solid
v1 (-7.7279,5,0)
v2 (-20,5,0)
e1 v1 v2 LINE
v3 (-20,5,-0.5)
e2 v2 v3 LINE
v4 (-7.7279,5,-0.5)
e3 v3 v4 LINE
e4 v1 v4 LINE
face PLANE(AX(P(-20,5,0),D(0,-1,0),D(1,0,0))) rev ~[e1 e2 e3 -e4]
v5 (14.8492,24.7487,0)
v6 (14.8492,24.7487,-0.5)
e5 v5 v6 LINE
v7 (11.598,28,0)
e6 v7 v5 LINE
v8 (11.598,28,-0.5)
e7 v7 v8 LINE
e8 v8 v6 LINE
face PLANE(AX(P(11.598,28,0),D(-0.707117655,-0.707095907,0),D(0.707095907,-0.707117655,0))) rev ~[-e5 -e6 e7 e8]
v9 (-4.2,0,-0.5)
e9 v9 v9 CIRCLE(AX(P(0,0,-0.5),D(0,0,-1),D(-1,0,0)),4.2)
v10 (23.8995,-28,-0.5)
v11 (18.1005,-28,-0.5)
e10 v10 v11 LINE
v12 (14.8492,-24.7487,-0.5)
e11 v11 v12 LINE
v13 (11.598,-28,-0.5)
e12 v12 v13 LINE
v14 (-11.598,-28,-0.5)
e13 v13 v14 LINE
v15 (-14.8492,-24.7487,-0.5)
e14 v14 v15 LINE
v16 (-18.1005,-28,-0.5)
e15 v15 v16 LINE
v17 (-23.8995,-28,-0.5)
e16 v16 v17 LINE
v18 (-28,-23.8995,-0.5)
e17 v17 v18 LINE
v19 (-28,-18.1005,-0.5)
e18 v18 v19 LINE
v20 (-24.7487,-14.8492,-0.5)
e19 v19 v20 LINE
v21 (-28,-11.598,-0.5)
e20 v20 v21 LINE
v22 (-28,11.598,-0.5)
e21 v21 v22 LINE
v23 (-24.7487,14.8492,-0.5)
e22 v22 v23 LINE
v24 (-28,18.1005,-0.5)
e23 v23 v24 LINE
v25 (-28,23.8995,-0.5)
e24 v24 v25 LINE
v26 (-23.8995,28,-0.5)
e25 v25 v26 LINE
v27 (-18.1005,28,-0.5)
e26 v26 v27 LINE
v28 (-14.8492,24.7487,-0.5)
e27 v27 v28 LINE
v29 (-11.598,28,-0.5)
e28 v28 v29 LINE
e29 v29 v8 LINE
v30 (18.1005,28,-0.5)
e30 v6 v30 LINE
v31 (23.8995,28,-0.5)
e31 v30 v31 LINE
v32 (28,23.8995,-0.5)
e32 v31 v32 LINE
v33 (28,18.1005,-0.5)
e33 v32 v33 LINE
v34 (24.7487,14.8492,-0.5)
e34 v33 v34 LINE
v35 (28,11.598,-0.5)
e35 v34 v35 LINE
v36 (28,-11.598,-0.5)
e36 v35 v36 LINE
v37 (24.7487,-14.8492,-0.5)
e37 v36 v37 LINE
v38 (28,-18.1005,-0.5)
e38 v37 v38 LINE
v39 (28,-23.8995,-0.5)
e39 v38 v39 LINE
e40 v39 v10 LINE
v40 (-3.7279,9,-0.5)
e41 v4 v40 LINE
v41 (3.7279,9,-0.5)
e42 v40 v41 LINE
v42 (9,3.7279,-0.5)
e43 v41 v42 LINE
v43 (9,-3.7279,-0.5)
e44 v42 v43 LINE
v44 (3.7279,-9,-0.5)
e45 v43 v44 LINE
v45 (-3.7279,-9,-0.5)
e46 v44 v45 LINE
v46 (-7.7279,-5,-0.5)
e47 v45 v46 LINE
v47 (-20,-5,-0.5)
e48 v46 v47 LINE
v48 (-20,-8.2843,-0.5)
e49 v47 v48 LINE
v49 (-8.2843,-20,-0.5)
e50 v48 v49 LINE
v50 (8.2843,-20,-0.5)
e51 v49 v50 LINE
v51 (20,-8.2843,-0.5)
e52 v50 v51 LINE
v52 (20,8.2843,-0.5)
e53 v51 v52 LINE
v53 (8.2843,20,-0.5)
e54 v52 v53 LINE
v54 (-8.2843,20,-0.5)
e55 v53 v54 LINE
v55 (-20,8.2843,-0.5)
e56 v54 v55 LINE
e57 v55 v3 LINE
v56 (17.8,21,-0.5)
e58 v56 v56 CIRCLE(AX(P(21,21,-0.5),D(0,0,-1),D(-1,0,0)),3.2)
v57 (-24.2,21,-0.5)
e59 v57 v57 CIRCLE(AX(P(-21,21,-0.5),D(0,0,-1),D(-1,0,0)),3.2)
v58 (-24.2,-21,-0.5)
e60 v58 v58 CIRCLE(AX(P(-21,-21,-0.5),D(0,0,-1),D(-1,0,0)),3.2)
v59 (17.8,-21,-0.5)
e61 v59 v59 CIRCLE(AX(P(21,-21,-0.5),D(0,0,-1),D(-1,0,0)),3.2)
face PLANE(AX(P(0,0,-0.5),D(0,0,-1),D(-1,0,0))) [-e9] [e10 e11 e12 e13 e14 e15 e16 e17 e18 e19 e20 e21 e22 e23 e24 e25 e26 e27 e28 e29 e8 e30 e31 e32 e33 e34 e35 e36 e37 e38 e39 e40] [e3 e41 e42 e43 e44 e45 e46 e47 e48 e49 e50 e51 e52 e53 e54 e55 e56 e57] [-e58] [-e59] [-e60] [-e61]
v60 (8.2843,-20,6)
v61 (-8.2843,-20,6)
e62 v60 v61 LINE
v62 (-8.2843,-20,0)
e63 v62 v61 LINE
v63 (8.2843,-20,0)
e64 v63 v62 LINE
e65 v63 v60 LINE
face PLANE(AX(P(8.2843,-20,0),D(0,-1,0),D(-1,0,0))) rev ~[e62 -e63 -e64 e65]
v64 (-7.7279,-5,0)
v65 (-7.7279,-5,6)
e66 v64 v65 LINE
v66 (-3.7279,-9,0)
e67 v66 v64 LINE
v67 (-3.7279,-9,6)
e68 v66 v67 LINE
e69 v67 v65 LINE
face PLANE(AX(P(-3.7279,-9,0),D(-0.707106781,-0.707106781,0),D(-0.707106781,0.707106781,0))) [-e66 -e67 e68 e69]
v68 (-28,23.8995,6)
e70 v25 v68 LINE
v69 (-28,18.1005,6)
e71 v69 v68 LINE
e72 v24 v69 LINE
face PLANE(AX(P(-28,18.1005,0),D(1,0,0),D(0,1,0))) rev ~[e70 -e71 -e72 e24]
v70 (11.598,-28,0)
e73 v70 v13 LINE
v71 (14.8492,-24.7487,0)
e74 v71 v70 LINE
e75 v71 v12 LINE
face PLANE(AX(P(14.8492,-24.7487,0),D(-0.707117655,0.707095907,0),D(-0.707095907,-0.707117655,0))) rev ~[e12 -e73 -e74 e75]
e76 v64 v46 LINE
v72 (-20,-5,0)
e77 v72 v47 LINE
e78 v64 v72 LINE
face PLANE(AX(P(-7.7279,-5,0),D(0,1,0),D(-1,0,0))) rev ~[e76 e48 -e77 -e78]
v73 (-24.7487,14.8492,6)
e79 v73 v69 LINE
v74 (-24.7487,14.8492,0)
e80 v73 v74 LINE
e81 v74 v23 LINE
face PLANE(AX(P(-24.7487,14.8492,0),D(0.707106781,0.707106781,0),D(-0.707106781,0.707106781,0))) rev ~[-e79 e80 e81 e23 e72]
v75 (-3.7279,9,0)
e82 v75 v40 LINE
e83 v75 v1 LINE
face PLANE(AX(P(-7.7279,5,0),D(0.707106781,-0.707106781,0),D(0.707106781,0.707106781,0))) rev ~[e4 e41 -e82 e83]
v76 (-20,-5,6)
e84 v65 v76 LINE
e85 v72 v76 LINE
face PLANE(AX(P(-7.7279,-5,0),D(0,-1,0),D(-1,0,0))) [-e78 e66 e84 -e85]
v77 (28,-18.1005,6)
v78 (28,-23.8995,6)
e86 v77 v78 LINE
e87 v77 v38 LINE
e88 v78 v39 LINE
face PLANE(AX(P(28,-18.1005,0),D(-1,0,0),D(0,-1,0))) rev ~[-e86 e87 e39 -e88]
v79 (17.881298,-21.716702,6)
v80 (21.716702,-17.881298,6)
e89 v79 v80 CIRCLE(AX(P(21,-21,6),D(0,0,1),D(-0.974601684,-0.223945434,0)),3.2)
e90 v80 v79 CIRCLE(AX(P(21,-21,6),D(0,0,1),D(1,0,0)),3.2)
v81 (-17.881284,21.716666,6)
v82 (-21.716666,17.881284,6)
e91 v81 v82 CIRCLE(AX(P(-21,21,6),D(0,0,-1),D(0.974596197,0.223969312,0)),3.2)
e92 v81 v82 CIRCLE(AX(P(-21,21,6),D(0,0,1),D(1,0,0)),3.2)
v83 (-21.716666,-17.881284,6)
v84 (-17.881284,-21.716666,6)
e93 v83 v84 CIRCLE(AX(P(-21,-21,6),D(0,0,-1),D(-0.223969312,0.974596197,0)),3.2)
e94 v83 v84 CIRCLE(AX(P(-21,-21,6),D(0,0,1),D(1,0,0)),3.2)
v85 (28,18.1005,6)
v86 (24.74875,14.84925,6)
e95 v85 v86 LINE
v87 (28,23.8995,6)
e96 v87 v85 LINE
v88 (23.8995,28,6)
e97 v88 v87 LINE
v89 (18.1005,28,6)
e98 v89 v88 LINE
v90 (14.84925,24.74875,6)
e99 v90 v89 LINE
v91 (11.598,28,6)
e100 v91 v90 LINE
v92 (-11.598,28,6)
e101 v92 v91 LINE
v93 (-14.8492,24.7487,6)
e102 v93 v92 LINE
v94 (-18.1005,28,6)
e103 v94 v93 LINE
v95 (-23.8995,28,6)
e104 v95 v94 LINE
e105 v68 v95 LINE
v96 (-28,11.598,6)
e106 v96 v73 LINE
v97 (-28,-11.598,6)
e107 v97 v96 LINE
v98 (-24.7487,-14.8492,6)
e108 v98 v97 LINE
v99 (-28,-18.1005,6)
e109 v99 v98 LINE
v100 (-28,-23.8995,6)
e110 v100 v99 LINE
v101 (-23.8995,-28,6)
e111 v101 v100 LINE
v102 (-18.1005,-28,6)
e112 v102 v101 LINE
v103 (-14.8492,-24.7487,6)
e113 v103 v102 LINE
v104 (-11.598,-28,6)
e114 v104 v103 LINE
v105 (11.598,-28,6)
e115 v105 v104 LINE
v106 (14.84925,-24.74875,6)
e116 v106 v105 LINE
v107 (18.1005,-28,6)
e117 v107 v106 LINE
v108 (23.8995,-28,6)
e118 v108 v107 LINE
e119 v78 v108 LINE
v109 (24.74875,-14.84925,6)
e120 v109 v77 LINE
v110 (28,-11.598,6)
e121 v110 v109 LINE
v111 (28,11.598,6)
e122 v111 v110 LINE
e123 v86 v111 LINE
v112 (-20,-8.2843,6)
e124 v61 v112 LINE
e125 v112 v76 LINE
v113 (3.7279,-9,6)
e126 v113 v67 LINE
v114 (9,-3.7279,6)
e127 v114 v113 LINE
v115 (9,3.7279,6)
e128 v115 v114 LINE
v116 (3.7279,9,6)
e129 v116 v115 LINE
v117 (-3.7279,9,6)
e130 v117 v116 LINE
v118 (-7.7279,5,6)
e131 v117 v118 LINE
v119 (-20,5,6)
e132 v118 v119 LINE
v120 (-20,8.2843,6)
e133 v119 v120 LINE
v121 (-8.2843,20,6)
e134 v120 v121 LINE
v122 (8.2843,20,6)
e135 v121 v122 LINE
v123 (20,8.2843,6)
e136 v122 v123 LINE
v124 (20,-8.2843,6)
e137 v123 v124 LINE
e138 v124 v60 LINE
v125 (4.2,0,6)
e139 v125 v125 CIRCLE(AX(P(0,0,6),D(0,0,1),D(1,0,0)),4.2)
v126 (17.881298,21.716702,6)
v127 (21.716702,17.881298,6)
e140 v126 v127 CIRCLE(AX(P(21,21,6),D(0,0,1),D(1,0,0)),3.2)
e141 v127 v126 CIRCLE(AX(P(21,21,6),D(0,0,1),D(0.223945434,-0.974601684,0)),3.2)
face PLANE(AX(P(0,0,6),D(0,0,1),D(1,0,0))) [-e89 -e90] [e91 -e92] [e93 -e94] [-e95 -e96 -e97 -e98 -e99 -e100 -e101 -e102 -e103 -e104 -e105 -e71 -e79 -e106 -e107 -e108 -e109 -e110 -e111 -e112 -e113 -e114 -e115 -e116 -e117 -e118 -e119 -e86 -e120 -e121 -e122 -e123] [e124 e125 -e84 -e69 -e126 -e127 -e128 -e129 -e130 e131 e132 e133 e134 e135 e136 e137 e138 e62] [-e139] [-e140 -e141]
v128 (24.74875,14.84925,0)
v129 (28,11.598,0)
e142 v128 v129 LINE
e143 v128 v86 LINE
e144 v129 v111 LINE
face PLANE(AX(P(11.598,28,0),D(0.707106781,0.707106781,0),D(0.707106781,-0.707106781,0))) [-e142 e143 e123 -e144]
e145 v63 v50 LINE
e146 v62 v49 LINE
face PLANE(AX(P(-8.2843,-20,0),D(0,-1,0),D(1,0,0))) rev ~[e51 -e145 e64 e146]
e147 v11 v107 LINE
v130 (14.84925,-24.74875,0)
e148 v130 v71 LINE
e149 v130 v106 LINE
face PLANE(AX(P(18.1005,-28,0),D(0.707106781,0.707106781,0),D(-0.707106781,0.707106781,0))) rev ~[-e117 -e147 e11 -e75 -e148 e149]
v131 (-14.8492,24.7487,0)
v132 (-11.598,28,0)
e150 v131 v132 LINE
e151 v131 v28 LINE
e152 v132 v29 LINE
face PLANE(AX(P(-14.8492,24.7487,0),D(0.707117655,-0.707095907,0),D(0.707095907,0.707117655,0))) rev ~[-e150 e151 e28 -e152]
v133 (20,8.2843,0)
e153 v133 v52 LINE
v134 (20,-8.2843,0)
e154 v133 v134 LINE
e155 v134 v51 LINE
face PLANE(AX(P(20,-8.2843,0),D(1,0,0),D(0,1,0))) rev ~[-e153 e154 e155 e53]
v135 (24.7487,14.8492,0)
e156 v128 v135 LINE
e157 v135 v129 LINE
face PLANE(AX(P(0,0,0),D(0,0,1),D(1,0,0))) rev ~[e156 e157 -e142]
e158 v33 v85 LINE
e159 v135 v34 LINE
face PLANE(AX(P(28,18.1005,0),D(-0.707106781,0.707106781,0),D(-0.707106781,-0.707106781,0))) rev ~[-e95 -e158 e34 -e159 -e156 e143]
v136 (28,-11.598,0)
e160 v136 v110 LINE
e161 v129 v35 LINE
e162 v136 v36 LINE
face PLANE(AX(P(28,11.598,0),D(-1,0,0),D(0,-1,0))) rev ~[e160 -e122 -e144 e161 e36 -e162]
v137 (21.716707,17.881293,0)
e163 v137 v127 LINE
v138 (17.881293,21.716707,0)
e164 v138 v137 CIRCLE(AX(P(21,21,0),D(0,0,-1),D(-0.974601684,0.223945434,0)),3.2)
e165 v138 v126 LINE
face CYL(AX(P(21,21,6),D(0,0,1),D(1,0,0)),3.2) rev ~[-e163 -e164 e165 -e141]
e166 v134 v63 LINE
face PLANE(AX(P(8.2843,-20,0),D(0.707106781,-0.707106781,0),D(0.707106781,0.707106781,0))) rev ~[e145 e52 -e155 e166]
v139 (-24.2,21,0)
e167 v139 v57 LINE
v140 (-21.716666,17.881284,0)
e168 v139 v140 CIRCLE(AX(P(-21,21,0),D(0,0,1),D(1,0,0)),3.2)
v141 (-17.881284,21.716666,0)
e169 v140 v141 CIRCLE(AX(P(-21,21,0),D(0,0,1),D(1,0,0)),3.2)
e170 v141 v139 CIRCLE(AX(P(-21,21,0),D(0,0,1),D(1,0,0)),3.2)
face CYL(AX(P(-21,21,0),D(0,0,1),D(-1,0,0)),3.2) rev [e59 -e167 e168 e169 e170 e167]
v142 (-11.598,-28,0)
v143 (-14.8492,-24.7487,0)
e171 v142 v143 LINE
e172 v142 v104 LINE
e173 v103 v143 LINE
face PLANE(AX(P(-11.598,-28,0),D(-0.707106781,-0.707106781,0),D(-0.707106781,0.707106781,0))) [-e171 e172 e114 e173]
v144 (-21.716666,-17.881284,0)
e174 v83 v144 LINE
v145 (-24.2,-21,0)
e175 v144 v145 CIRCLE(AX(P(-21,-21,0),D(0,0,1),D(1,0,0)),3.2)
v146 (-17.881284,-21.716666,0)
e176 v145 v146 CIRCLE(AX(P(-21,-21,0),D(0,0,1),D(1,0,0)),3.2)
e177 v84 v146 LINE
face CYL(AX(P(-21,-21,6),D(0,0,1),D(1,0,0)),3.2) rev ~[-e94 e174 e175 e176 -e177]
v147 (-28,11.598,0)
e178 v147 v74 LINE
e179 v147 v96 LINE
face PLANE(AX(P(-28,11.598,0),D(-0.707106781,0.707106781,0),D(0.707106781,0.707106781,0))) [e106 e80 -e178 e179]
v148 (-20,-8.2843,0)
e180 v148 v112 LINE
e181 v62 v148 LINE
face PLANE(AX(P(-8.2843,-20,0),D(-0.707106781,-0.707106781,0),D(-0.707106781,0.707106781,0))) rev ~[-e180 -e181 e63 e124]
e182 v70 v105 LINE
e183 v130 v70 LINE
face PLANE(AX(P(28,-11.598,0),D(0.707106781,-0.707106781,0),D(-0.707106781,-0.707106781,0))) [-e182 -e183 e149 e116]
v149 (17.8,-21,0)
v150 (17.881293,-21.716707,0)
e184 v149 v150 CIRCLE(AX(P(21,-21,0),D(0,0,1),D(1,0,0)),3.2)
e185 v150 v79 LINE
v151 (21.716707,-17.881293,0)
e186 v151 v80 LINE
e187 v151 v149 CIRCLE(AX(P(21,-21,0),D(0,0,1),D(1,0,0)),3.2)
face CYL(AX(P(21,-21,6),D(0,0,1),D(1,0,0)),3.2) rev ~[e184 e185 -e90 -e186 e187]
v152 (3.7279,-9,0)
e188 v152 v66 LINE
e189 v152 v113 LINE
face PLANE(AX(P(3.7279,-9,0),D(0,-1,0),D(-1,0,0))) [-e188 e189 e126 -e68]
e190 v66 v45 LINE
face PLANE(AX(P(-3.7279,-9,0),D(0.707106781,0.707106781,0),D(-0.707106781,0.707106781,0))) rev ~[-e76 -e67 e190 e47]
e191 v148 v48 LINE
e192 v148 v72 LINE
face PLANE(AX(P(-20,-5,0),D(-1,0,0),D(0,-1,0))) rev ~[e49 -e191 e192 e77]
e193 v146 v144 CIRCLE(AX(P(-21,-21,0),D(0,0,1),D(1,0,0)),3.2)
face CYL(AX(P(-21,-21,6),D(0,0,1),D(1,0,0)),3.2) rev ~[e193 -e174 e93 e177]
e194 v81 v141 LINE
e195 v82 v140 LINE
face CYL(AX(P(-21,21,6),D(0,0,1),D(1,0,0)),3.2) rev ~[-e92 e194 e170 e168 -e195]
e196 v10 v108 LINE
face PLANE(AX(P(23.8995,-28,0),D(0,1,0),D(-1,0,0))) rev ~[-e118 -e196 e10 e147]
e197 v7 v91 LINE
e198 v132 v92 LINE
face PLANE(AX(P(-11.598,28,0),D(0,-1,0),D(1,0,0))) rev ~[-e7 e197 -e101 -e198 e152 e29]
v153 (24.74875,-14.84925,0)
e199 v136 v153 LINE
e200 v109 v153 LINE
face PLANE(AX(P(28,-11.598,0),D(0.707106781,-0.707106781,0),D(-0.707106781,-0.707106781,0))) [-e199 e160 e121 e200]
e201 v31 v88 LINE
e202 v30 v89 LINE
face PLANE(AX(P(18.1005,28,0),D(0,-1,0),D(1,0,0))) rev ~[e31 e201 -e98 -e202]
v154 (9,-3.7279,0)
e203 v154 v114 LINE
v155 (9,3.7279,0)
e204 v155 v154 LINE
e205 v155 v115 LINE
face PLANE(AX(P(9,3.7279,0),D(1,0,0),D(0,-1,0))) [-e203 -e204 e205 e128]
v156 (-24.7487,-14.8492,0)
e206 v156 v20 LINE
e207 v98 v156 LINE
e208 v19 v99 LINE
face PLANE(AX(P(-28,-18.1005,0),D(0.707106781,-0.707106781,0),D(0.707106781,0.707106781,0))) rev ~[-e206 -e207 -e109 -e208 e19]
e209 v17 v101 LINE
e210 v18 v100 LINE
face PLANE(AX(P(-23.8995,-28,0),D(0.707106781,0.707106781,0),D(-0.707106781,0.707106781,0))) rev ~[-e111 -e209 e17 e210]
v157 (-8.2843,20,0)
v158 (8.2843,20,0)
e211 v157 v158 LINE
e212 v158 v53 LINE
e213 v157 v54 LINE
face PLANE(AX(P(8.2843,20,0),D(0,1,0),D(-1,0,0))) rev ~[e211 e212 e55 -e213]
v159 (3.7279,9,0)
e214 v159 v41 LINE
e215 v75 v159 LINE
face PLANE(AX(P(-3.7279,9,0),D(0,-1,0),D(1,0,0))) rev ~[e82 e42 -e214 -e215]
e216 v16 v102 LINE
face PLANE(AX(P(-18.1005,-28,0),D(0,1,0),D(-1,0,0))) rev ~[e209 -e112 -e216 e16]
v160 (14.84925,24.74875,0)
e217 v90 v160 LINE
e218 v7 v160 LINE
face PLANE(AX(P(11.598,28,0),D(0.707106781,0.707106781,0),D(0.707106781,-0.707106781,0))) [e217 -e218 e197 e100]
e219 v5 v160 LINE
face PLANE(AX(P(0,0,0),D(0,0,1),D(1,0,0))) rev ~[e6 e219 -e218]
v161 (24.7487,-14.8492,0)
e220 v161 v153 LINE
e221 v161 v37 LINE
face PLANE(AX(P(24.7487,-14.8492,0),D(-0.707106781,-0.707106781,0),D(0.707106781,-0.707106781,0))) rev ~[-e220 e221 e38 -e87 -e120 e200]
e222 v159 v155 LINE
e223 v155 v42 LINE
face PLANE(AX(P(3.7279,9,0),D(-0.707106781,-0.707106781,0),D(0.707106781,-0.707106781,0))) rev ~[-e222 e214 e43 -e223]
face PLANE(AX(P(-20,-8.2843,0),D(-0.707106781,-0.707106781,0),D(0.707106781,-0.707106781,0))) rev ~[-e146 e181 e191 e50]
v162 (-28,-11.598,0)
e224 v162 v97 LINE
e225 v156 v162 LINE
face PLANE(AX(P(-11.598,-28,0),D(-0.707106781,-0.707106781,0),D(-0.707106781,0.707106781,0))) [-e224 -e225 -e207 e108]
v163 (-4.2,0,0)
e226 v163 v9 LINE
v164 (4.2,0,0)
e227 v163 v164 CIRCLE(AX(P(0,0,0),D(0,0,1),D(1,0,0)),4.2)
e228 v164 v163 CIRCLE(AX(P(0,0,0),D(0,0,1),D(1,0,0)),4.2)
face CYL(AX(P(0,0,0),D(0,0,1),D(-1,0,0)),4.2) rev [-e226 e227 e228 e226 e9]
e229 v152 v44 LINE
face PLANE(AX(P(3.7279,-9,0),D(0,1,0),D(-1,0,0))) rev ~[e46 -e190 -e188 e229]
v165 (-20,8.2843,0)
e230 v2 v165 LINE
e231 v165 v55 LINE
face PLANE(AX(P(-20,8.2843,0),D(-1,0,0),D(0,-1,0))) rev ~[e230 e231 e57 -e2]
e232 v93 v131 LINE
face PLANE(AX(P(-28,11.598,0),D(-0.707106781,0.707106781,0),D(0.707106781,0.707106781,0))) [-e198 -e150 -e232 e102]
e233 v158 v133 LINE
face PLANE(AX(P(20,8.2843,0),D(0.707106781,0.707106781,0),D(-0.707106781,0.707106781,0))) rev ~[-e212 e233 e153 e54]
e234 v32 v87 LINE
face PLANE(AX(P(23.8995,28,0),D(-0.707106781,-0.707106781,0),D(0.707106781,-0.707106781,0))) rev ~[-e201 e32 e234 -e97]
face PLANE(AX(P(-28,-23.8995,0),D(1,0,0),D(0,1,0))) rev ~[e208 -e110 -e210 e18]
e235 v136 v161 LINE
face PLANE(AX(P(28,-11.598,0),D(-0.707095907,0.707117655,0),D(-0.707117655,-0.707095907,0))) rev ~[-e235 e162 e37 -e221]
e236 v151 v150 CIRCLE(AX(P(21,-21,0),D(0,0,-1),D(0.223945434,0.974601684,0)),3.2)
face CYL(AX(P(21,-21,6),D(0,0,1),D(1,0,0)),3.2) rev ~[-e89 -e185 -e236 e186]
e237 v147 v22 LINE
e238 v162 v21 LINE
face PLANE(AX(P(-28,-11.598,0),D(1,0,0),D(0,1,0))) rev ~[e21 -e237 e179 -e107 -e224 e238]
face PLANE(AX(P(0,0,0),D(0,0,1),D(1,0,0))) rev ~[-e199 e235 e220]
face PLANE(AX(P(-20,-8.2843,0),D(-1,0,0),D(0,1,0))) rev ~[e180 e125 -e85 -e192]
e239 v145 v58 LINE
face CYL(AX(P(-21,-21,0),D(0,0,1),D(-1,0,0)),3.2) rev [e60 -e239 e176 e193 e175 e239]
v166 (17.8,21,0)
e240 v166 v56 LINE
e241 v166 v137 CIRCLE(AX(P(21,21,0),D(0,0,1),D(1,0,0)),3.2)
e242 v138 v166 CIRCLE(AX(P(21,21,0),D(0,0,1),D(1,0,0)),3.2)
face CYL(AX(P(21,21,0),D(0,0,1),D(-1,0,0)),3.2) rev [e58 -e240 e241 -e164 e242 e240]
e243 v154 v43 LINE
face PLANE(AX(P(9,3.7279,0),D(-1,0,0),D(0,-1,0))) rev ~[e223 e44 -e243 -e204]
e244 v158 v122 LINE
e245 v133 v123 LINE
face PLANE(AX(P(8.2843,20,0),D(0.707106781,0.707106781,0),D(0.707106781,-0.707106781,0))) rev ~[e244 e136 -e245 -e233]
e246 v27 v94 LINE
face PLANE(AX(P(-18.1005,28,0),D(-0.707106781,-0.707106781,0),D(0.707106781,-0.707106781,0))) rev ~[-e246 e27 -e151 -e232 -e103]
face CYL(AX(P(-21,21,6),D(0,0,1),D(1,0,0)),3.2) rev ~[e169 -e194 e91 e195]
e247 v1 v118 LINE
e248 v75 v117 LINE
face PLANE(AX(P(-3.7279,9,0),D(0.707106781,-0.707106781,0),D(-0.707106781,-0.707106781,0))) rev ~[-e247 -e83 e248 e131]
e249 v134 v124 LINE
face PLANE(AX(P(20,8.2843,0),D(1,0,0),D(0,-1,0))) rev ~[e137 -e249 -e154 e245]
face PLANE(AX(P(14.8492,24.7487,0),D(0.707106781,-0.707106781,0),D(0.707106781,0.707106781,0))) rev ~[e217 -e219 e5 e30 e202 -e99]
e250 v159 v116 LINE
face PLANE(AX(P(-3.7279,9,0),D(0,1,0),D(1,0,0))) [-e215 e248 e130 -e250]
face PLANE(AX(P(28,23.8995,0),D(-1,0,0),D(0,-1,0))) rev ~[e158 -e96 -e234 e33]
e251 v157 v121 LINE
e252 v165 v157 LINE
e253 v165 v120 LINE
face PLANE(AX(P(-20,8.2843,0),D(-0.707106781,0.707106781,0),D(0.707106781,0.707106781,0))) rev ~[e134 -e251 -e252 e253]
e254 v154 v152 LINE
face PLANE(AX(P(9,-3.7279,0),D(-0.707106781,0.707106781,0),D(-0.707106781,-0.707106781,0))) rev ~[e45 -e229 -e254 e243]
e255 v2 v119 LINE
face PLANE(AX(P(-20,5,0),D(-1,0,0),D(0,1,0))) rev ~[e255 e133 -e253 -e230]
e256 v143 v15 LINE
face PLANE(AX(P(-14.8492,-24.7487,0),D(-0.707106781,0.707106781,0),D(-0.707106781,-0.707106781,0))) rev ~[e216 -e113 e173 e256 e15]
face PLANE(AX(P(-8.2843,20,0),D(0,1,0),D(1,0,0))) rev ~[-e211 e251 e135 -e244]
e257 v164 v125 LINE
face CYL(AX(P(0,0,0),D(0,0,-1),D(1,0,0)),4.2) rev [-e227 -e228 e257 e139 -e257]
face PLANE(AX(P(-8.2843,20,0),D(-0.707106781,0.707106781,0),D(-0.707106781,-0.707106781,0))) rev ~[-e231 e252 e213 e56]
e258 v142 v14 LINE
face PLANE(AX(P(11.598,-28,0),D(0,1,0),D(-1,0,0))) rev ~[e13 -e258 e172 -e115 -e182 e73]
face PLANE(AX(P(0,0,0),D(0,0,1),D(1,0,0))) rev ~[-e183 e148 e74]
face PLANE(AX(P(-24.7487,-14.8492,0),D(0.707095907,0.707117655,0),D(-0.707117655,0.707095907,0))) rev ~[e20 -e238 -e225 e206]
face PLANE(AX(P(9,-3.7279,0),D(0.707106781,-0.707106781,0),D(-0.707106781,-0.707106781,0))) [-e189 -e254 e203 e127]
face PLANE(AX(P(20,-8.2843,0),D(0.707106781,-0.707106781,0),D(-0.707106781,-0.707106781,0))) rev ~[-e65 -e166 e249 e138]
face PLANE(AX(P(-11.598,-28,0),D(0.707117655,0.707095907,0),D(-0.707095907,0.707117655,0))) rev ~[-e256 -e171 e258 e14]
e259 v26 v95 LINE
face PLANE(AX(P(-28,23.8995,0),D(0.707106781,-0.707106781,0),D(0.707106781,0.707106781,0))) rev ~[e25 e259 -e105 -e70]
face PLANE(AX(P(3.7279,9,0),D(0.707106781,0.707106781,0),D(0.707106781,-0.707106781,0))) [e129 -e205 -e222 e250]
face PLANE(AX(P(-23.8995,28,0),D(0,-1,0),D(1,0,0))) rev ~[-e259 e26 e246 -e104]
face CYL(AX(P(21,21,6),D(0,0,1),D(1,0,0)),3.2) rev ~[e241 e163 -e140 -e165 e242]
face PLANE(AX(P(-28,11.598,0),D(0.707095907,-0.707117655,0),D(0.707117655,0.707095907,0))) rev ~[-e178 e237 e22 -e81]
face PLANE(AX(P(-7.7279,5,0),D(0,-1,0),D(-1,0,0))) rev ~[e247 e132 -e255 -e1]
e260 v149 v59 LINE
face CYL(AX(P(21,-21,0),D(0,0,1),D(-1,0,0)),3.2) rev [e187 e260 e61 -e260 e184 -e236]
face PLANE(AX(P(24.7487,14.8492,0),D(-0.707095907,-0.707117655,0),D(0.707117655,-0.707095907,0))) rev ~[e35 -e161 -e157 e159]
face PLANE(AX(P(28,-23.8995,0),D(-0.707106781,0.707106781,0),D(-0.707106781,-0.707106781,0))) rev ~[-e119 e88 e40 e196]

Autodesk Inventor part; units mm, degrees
ref_plane "YZ Plane" through (0, 0, 0) normal (1, 0, 0) x (0, 1, 0)
ref_plane "XZ Plane" through (0, 0, 0) normal (0, 1, 0) x (-1, 0, 0)
ref_plane "XY Plane" through (0, 0, 0) normal (0, 0, 1) x (1, 0, 0)
sketch "Sketch1" plane through (0, 0, 0) normal (0, 0, 1) x (1, 0, 0)
  circle A0 centre (0, 0) radius 8 construction
  circle A1 centre (0, 0) radius 16 construction
  line L0 (20, -8.2843) -> (8.2843, -20)
  line L1 (8.2843, -20) -> (-8.2843, -20)
  line L2 (-8.2843, -20) -> (-20, -8.2843)
  line L3 (-20, 8.2843) -> (-8.2843, 20)
  line L4 (-8.2843, 20) -> (8.2843, 20)
  line L5 (8.2843, 20) -> (20, 8.2843)
  line L6 (20, 8.2843) -> (20, -8.2843)
  line L7 (-7.7279, 5) -> (-20, 5)
  line L8 (-7.7279, -5) -> (-20, -5)
  circle A2 centre (0, 0) radius 4.2
  line L9 (-20, -8.2843) -> (-20, -5)
  line L10 (-20, 5) -> (-20, 8.2843)
  line L11 (28, -11.598) -> (11.598, -28)
  line L12 (11.598, -28) -> (-11.598, -28)
  line L13 (-11.598, -28) -> (-28, -11.598)
  line L14 (-28, -11.598) -> (-28, 11.598)
  line L15 (-28, 11.598) -> (-11.598, 28)
  line L16 (-11.598, 28) -> (11.598, 28)
  line L17 (11.598, 28) -> (28, 11.598)
  line L18 (28, 11.598) -> (28, -11.598)
  line L19 (9, -3.7279) -> (3.7279, -9)
  line L20 (3.7279, -9) -> (-3.7279, -9)
  line L21 (-3.7279, 9) -> (3.7279, 9)
  line L22 (3.7279, 9) -> (9, 3.7279)
  line L23 (9, 3.7279) -> (9, -3.7279)
  line L24 (-20, 5) -> (-20, -5) construction
  line L25 (-3.7279, 9) -> (-7.7279, 5)
  line L26 (-3.7279, -9) -> (-7.7279, -5)
  point P0 (-20, 0)
  dimension "d1" = 16
  dimension "d2" = 32
  dimension "d5" = 8.4
  dimension "d6" = 40
  dimension "d7" = 8
  dimension "d8" = 10
  dimension "d10" = 18
extrude "Extrusion1" add sketch "Sketch1" along normal blind 6
sketch "Sketch2" plane through (0, 0, 6) normal (0, 0, 1) x (1, 0, 0)
  circle A0 centre (0, 0) radius 4.2 projected
  line L0 (11.598, 28) -> (-11.598, 28) projected
  line L1 (-11.598, 28) -> (-28, 11.598) projected
  line L2 (-28, 11.598) -> (-28, -11.598) projected
  line L3 (-28, -11.598) -> (-11.598, -28) projected
  line L4 (-11.598, -28) -> (11.598, -28) projected
  line L5 (-24.7487, 14.8492) -> (-28, 18.1005)
  line L6 (-28, 18.1005) -> (-28, 23.8995)
  line L7 (-28, 23.8995) -> (-23.8995, 28)
  line L8 (-23.8995, 28) -> (-18.1005, 28)
  line L9 (-18.1005, 28) -> (-14.8492, 24.7487)
  line L10 (-28, 21) -> (-21, 21) construction
  line L11 (-21, 28) -> (-21, 21) construction
  circle A1 centre (-21, 21) radius 3.2
  line L12 (-24.7487, 14.8492) -> (-14.8492, 24.7487)
  line L13 (-14.8492, -24.7487) -> (-18.1005, -28)
  line L14 (-18.1005, -28) -> (-23.8995, -28)
  line L15 (-23.8995, -28) -> (-28, -23.8995)
  line L16 (-28, -23.8995) -> (-28, -18.1005)
  line L17 (-28, -18.1005) -> (-24.7487, -14.8492)
  circle A2 centre (-21, -21) radius 3.2
  line L18 (-14.8492, -24.7487) -> (-24.7487, -14.8492)
  line L19 (24.7487, -14.8492) -> (28, -18.1005)
  line L20 (28, -18.1005) -> (28, -23.8995)
  line L21 (28, -23.8995) -> (23.8995, -28)
  line L22 (23.8995, -28) -> (18.1005, -28)
  line L23 (18.1005, -28) -> (14.8492, -24.7487)
  circle A3 centre (21, -21) radius 3.2
  line L24 (24.7487, -14.8492) -> (14.8492, -24.7487)
  line L25 (14.8492, 24.7487) -> (18.1005, 28)
  line L26 (18.1005, 28) -> (23.8995, 28)
  line L27 (23.8995, 28) -> (28, 23.8995)
  line L28 (28, 23.8995) -> (28, 18.1005)
  line L29 (28, 18.1005) -> (24.7487, 14.8492)
  circle A4 centre (21, 21) radius 3.2
  line L30 (14.8492, 24.7487) -> (24.7487, 14.8492)
  circle A5 centre (-21, 21) radius 6 construction
  point P0 (-19.799, 19.799)
  point P1 (-21, -28)
  point P2 (-28, -21)
  point P3 (28, -21)
  point P4 (21, -28)
  point P5 (21, 28)
  point P6 (28, 21)
  dimension "d13" = 14
  dimension "d14" = 7
  dimension "d15" = 6.4
  dimension "d18" = 360
  dimension "d22" = 12
extrude "Extrusion2" add sketch "Sketch2" against normal blind 6 contours L3 A2 L13 L14 L15 L16 L17 | L5 L6 L7 L8 L9 L1 A1 | L19 L20 L21 L22 L23 L24 A3 | L25 L26 L27 L28 L29 L30 A4
sketch "Sketch3" plane through (0, 0, 6) normal (0, 0, 1) x (1, 0, 0)
  line L0 (-17.8813, 21.7167) -> (-21.7167, 17.8813) projected
  arc A0 (-17.8813, 21.7167) -> (-21.7167, 17.8813) centre (-21, 21) ccw projected
  line L1 (-21.7167, -17.8813) -> (-17.8813, -21.7167) projected
  arc A1 (-21.7167, -17.8813) -> (-17.8813, -21.7167) centre (-21, -21) ccw projected
  arc A2 (17.8813, -21.7167) -> (21.7167, -17.8813) centre (21, -21) ccw projected
  line L2 (17.8813, -21.7167) -> (21.7167, -17.8813) projected
  arc A3 (21.7167, 17.8813) -> (17.8813, 21.7167) centre (21, 21) ccw projected
  line L3 (21.7167, 17.8813) -> (17.8813, 21.7167) projected
  circle A4 centre (-21, -21) radius 3.2
  circle A5 centre (-21, 21) radius 3.2
  circle A6 centre (21, 21) radius 3.2
  circle A7 centre (21, -21) radius 3.2
extrude "Extrusion3" cut sketch "Sketch3" against normal through all contours A5 L0 | A4 L1 | A7 L2 | A6 L3
sketch "Sketch4" plane through (0, 0, 0) normal (0, 0, -1) x (-1, 0, 0)
  circle A0 centre (21, -21) radius 3.2 projected
  circle A1 centre (21, 21) radius 3.2 projected
  circle A2 centre (-21, -21) radius 3.2 projected
  line L0 (-24.7487, -14.8492) -> (-28, -18.1005) projected
  line L1 (-28, -18.1005) -> (-28, -23.8995) projected
  line L2 (-28, -23.8995) -> (-23.8995, -28) projected
  line L3 (-23.8995, -28) -> (-18.1005, -28) projected
  line L4 (-18.1005, -28) -> (-14.8492, -24.7487) projected
  line L5 (-14.8492, -24.7487) -> (-11.598, -28) projected
  line L6 (-11.598, -28) -> (11.598, -28) projected
  line L7 (11.598, -28) -> (14.8492, -24.7487) projected
  line L8 (14.8492, -24.7487) -> (18.1005, -28) projected
  line L9 (18.1005, -28) -> (23.8995, -28) projected
  line L10 (23.8995, -28) -> (28, -23.8995) projected
  line L11 (28, -23.8995) -> (28, -18.1005) projected
  line L12 (28, -18.1005) -> (24.7487, -14.8492) projected
  line L13 (24.7487, -14.8492) -> (28, -11.598) projected
  line L14 (28, -11.598) -> (28, 11.598) projected
  line L15 (28, 11.598) -> (24.7487, 14.8492) projected
  line L16 (24.7487, 14.8492) -> (28, 18.1005) projected
  line L17 (28, 18.1005) -> (28, 23.8995) projected
  line L18 (28, 23.8995) -> (23.8995, 28) projected
  line L19 (23.8995, 28) -> (18.1005, 28) projected
  line L20 (18.1005, 28) -> (14.8492, 24.7487) projected
  line L21 (14.8492, 24.7487) -> (11.598, 28) projected
  line L22 (11.598, 28) -> (-11.598, 28) projected
  line L23 (-11.598, 28) -> (-14.8492, 24.7487) projected
  line L24 (-14.8492, 24.7487) -> (-18.1005, 28) projected
  line L25 (-18.1005, 28) -> (-23.8995, 28) projected
  line L26 (-23.8995, 28) -> (-28, 23.8995) projected
  line L27 (-28, 23.8995) -> (-28, 18.1005) projected
  line L28 (-28, 18.1005) -> (-24.7487, 14.8492) projected
  line L29 (-24.7487, 14.8492) -> (-28, 11.598) projected
  line L30 (-28, 11.598) -> (-28, -11.598) projected
  line L31 (-28, -11.598) -> (-24.7487, -14.8492) projected
  circle A3 centre (-21, 21) radius 3.2 projected
  line L32 (8.2843, -20) -> (-8.2843, -20) projected
  line L33 (-8.2843, -20) -> (-20, -8.2843) projected
  line L34 (-20, -8.2843) -> (-20, 8.2843) projected
  line L35 (-20, 8.2843) -> (-8.2843, 20) projected
  line L36 (-8.2843, 20) -> (8.2843, 20) projected
  line L37 (8.2843, 20) -> (20, 8.2843) projected
  line L38 (20, 8.2843) -> (20, 5) projected
  line L39 (20, 5) -> (7.7279, 5) projected
  line L40 (7.7279, 5) -> (3.7279, 9) projected
  line L41 (3.7279, 9) -> (-3.7279, 9) projected
  line L42 (-3.7279, 9) -> (-9, 3.7279) projected
  line L43 (-9, 3.7279) -> (-9, -3.7279) projected
  line L44 (-9, -3.7279) -> (-3.7279, -9) projected
  line L45 (-3.7279, -9) -> (3.7279, -9) projected
  line L46 (3.7279, -9) -> (7.7279, -5) projected
  line L47 (7.7279, -5) -> (20, -5) projected
  line L48 (20, -5) -> (20, -8.2843) projected
  line L49 (20, -8.2843) -> (8.2843, -20) projected
  circle A4 centre (0, 0) radius 4.2 projected
extrude "Extrusion4" add sketch "Sketch4" along normal blind 0.5
properties part number "x_iddler_belt_bearing_mount"
